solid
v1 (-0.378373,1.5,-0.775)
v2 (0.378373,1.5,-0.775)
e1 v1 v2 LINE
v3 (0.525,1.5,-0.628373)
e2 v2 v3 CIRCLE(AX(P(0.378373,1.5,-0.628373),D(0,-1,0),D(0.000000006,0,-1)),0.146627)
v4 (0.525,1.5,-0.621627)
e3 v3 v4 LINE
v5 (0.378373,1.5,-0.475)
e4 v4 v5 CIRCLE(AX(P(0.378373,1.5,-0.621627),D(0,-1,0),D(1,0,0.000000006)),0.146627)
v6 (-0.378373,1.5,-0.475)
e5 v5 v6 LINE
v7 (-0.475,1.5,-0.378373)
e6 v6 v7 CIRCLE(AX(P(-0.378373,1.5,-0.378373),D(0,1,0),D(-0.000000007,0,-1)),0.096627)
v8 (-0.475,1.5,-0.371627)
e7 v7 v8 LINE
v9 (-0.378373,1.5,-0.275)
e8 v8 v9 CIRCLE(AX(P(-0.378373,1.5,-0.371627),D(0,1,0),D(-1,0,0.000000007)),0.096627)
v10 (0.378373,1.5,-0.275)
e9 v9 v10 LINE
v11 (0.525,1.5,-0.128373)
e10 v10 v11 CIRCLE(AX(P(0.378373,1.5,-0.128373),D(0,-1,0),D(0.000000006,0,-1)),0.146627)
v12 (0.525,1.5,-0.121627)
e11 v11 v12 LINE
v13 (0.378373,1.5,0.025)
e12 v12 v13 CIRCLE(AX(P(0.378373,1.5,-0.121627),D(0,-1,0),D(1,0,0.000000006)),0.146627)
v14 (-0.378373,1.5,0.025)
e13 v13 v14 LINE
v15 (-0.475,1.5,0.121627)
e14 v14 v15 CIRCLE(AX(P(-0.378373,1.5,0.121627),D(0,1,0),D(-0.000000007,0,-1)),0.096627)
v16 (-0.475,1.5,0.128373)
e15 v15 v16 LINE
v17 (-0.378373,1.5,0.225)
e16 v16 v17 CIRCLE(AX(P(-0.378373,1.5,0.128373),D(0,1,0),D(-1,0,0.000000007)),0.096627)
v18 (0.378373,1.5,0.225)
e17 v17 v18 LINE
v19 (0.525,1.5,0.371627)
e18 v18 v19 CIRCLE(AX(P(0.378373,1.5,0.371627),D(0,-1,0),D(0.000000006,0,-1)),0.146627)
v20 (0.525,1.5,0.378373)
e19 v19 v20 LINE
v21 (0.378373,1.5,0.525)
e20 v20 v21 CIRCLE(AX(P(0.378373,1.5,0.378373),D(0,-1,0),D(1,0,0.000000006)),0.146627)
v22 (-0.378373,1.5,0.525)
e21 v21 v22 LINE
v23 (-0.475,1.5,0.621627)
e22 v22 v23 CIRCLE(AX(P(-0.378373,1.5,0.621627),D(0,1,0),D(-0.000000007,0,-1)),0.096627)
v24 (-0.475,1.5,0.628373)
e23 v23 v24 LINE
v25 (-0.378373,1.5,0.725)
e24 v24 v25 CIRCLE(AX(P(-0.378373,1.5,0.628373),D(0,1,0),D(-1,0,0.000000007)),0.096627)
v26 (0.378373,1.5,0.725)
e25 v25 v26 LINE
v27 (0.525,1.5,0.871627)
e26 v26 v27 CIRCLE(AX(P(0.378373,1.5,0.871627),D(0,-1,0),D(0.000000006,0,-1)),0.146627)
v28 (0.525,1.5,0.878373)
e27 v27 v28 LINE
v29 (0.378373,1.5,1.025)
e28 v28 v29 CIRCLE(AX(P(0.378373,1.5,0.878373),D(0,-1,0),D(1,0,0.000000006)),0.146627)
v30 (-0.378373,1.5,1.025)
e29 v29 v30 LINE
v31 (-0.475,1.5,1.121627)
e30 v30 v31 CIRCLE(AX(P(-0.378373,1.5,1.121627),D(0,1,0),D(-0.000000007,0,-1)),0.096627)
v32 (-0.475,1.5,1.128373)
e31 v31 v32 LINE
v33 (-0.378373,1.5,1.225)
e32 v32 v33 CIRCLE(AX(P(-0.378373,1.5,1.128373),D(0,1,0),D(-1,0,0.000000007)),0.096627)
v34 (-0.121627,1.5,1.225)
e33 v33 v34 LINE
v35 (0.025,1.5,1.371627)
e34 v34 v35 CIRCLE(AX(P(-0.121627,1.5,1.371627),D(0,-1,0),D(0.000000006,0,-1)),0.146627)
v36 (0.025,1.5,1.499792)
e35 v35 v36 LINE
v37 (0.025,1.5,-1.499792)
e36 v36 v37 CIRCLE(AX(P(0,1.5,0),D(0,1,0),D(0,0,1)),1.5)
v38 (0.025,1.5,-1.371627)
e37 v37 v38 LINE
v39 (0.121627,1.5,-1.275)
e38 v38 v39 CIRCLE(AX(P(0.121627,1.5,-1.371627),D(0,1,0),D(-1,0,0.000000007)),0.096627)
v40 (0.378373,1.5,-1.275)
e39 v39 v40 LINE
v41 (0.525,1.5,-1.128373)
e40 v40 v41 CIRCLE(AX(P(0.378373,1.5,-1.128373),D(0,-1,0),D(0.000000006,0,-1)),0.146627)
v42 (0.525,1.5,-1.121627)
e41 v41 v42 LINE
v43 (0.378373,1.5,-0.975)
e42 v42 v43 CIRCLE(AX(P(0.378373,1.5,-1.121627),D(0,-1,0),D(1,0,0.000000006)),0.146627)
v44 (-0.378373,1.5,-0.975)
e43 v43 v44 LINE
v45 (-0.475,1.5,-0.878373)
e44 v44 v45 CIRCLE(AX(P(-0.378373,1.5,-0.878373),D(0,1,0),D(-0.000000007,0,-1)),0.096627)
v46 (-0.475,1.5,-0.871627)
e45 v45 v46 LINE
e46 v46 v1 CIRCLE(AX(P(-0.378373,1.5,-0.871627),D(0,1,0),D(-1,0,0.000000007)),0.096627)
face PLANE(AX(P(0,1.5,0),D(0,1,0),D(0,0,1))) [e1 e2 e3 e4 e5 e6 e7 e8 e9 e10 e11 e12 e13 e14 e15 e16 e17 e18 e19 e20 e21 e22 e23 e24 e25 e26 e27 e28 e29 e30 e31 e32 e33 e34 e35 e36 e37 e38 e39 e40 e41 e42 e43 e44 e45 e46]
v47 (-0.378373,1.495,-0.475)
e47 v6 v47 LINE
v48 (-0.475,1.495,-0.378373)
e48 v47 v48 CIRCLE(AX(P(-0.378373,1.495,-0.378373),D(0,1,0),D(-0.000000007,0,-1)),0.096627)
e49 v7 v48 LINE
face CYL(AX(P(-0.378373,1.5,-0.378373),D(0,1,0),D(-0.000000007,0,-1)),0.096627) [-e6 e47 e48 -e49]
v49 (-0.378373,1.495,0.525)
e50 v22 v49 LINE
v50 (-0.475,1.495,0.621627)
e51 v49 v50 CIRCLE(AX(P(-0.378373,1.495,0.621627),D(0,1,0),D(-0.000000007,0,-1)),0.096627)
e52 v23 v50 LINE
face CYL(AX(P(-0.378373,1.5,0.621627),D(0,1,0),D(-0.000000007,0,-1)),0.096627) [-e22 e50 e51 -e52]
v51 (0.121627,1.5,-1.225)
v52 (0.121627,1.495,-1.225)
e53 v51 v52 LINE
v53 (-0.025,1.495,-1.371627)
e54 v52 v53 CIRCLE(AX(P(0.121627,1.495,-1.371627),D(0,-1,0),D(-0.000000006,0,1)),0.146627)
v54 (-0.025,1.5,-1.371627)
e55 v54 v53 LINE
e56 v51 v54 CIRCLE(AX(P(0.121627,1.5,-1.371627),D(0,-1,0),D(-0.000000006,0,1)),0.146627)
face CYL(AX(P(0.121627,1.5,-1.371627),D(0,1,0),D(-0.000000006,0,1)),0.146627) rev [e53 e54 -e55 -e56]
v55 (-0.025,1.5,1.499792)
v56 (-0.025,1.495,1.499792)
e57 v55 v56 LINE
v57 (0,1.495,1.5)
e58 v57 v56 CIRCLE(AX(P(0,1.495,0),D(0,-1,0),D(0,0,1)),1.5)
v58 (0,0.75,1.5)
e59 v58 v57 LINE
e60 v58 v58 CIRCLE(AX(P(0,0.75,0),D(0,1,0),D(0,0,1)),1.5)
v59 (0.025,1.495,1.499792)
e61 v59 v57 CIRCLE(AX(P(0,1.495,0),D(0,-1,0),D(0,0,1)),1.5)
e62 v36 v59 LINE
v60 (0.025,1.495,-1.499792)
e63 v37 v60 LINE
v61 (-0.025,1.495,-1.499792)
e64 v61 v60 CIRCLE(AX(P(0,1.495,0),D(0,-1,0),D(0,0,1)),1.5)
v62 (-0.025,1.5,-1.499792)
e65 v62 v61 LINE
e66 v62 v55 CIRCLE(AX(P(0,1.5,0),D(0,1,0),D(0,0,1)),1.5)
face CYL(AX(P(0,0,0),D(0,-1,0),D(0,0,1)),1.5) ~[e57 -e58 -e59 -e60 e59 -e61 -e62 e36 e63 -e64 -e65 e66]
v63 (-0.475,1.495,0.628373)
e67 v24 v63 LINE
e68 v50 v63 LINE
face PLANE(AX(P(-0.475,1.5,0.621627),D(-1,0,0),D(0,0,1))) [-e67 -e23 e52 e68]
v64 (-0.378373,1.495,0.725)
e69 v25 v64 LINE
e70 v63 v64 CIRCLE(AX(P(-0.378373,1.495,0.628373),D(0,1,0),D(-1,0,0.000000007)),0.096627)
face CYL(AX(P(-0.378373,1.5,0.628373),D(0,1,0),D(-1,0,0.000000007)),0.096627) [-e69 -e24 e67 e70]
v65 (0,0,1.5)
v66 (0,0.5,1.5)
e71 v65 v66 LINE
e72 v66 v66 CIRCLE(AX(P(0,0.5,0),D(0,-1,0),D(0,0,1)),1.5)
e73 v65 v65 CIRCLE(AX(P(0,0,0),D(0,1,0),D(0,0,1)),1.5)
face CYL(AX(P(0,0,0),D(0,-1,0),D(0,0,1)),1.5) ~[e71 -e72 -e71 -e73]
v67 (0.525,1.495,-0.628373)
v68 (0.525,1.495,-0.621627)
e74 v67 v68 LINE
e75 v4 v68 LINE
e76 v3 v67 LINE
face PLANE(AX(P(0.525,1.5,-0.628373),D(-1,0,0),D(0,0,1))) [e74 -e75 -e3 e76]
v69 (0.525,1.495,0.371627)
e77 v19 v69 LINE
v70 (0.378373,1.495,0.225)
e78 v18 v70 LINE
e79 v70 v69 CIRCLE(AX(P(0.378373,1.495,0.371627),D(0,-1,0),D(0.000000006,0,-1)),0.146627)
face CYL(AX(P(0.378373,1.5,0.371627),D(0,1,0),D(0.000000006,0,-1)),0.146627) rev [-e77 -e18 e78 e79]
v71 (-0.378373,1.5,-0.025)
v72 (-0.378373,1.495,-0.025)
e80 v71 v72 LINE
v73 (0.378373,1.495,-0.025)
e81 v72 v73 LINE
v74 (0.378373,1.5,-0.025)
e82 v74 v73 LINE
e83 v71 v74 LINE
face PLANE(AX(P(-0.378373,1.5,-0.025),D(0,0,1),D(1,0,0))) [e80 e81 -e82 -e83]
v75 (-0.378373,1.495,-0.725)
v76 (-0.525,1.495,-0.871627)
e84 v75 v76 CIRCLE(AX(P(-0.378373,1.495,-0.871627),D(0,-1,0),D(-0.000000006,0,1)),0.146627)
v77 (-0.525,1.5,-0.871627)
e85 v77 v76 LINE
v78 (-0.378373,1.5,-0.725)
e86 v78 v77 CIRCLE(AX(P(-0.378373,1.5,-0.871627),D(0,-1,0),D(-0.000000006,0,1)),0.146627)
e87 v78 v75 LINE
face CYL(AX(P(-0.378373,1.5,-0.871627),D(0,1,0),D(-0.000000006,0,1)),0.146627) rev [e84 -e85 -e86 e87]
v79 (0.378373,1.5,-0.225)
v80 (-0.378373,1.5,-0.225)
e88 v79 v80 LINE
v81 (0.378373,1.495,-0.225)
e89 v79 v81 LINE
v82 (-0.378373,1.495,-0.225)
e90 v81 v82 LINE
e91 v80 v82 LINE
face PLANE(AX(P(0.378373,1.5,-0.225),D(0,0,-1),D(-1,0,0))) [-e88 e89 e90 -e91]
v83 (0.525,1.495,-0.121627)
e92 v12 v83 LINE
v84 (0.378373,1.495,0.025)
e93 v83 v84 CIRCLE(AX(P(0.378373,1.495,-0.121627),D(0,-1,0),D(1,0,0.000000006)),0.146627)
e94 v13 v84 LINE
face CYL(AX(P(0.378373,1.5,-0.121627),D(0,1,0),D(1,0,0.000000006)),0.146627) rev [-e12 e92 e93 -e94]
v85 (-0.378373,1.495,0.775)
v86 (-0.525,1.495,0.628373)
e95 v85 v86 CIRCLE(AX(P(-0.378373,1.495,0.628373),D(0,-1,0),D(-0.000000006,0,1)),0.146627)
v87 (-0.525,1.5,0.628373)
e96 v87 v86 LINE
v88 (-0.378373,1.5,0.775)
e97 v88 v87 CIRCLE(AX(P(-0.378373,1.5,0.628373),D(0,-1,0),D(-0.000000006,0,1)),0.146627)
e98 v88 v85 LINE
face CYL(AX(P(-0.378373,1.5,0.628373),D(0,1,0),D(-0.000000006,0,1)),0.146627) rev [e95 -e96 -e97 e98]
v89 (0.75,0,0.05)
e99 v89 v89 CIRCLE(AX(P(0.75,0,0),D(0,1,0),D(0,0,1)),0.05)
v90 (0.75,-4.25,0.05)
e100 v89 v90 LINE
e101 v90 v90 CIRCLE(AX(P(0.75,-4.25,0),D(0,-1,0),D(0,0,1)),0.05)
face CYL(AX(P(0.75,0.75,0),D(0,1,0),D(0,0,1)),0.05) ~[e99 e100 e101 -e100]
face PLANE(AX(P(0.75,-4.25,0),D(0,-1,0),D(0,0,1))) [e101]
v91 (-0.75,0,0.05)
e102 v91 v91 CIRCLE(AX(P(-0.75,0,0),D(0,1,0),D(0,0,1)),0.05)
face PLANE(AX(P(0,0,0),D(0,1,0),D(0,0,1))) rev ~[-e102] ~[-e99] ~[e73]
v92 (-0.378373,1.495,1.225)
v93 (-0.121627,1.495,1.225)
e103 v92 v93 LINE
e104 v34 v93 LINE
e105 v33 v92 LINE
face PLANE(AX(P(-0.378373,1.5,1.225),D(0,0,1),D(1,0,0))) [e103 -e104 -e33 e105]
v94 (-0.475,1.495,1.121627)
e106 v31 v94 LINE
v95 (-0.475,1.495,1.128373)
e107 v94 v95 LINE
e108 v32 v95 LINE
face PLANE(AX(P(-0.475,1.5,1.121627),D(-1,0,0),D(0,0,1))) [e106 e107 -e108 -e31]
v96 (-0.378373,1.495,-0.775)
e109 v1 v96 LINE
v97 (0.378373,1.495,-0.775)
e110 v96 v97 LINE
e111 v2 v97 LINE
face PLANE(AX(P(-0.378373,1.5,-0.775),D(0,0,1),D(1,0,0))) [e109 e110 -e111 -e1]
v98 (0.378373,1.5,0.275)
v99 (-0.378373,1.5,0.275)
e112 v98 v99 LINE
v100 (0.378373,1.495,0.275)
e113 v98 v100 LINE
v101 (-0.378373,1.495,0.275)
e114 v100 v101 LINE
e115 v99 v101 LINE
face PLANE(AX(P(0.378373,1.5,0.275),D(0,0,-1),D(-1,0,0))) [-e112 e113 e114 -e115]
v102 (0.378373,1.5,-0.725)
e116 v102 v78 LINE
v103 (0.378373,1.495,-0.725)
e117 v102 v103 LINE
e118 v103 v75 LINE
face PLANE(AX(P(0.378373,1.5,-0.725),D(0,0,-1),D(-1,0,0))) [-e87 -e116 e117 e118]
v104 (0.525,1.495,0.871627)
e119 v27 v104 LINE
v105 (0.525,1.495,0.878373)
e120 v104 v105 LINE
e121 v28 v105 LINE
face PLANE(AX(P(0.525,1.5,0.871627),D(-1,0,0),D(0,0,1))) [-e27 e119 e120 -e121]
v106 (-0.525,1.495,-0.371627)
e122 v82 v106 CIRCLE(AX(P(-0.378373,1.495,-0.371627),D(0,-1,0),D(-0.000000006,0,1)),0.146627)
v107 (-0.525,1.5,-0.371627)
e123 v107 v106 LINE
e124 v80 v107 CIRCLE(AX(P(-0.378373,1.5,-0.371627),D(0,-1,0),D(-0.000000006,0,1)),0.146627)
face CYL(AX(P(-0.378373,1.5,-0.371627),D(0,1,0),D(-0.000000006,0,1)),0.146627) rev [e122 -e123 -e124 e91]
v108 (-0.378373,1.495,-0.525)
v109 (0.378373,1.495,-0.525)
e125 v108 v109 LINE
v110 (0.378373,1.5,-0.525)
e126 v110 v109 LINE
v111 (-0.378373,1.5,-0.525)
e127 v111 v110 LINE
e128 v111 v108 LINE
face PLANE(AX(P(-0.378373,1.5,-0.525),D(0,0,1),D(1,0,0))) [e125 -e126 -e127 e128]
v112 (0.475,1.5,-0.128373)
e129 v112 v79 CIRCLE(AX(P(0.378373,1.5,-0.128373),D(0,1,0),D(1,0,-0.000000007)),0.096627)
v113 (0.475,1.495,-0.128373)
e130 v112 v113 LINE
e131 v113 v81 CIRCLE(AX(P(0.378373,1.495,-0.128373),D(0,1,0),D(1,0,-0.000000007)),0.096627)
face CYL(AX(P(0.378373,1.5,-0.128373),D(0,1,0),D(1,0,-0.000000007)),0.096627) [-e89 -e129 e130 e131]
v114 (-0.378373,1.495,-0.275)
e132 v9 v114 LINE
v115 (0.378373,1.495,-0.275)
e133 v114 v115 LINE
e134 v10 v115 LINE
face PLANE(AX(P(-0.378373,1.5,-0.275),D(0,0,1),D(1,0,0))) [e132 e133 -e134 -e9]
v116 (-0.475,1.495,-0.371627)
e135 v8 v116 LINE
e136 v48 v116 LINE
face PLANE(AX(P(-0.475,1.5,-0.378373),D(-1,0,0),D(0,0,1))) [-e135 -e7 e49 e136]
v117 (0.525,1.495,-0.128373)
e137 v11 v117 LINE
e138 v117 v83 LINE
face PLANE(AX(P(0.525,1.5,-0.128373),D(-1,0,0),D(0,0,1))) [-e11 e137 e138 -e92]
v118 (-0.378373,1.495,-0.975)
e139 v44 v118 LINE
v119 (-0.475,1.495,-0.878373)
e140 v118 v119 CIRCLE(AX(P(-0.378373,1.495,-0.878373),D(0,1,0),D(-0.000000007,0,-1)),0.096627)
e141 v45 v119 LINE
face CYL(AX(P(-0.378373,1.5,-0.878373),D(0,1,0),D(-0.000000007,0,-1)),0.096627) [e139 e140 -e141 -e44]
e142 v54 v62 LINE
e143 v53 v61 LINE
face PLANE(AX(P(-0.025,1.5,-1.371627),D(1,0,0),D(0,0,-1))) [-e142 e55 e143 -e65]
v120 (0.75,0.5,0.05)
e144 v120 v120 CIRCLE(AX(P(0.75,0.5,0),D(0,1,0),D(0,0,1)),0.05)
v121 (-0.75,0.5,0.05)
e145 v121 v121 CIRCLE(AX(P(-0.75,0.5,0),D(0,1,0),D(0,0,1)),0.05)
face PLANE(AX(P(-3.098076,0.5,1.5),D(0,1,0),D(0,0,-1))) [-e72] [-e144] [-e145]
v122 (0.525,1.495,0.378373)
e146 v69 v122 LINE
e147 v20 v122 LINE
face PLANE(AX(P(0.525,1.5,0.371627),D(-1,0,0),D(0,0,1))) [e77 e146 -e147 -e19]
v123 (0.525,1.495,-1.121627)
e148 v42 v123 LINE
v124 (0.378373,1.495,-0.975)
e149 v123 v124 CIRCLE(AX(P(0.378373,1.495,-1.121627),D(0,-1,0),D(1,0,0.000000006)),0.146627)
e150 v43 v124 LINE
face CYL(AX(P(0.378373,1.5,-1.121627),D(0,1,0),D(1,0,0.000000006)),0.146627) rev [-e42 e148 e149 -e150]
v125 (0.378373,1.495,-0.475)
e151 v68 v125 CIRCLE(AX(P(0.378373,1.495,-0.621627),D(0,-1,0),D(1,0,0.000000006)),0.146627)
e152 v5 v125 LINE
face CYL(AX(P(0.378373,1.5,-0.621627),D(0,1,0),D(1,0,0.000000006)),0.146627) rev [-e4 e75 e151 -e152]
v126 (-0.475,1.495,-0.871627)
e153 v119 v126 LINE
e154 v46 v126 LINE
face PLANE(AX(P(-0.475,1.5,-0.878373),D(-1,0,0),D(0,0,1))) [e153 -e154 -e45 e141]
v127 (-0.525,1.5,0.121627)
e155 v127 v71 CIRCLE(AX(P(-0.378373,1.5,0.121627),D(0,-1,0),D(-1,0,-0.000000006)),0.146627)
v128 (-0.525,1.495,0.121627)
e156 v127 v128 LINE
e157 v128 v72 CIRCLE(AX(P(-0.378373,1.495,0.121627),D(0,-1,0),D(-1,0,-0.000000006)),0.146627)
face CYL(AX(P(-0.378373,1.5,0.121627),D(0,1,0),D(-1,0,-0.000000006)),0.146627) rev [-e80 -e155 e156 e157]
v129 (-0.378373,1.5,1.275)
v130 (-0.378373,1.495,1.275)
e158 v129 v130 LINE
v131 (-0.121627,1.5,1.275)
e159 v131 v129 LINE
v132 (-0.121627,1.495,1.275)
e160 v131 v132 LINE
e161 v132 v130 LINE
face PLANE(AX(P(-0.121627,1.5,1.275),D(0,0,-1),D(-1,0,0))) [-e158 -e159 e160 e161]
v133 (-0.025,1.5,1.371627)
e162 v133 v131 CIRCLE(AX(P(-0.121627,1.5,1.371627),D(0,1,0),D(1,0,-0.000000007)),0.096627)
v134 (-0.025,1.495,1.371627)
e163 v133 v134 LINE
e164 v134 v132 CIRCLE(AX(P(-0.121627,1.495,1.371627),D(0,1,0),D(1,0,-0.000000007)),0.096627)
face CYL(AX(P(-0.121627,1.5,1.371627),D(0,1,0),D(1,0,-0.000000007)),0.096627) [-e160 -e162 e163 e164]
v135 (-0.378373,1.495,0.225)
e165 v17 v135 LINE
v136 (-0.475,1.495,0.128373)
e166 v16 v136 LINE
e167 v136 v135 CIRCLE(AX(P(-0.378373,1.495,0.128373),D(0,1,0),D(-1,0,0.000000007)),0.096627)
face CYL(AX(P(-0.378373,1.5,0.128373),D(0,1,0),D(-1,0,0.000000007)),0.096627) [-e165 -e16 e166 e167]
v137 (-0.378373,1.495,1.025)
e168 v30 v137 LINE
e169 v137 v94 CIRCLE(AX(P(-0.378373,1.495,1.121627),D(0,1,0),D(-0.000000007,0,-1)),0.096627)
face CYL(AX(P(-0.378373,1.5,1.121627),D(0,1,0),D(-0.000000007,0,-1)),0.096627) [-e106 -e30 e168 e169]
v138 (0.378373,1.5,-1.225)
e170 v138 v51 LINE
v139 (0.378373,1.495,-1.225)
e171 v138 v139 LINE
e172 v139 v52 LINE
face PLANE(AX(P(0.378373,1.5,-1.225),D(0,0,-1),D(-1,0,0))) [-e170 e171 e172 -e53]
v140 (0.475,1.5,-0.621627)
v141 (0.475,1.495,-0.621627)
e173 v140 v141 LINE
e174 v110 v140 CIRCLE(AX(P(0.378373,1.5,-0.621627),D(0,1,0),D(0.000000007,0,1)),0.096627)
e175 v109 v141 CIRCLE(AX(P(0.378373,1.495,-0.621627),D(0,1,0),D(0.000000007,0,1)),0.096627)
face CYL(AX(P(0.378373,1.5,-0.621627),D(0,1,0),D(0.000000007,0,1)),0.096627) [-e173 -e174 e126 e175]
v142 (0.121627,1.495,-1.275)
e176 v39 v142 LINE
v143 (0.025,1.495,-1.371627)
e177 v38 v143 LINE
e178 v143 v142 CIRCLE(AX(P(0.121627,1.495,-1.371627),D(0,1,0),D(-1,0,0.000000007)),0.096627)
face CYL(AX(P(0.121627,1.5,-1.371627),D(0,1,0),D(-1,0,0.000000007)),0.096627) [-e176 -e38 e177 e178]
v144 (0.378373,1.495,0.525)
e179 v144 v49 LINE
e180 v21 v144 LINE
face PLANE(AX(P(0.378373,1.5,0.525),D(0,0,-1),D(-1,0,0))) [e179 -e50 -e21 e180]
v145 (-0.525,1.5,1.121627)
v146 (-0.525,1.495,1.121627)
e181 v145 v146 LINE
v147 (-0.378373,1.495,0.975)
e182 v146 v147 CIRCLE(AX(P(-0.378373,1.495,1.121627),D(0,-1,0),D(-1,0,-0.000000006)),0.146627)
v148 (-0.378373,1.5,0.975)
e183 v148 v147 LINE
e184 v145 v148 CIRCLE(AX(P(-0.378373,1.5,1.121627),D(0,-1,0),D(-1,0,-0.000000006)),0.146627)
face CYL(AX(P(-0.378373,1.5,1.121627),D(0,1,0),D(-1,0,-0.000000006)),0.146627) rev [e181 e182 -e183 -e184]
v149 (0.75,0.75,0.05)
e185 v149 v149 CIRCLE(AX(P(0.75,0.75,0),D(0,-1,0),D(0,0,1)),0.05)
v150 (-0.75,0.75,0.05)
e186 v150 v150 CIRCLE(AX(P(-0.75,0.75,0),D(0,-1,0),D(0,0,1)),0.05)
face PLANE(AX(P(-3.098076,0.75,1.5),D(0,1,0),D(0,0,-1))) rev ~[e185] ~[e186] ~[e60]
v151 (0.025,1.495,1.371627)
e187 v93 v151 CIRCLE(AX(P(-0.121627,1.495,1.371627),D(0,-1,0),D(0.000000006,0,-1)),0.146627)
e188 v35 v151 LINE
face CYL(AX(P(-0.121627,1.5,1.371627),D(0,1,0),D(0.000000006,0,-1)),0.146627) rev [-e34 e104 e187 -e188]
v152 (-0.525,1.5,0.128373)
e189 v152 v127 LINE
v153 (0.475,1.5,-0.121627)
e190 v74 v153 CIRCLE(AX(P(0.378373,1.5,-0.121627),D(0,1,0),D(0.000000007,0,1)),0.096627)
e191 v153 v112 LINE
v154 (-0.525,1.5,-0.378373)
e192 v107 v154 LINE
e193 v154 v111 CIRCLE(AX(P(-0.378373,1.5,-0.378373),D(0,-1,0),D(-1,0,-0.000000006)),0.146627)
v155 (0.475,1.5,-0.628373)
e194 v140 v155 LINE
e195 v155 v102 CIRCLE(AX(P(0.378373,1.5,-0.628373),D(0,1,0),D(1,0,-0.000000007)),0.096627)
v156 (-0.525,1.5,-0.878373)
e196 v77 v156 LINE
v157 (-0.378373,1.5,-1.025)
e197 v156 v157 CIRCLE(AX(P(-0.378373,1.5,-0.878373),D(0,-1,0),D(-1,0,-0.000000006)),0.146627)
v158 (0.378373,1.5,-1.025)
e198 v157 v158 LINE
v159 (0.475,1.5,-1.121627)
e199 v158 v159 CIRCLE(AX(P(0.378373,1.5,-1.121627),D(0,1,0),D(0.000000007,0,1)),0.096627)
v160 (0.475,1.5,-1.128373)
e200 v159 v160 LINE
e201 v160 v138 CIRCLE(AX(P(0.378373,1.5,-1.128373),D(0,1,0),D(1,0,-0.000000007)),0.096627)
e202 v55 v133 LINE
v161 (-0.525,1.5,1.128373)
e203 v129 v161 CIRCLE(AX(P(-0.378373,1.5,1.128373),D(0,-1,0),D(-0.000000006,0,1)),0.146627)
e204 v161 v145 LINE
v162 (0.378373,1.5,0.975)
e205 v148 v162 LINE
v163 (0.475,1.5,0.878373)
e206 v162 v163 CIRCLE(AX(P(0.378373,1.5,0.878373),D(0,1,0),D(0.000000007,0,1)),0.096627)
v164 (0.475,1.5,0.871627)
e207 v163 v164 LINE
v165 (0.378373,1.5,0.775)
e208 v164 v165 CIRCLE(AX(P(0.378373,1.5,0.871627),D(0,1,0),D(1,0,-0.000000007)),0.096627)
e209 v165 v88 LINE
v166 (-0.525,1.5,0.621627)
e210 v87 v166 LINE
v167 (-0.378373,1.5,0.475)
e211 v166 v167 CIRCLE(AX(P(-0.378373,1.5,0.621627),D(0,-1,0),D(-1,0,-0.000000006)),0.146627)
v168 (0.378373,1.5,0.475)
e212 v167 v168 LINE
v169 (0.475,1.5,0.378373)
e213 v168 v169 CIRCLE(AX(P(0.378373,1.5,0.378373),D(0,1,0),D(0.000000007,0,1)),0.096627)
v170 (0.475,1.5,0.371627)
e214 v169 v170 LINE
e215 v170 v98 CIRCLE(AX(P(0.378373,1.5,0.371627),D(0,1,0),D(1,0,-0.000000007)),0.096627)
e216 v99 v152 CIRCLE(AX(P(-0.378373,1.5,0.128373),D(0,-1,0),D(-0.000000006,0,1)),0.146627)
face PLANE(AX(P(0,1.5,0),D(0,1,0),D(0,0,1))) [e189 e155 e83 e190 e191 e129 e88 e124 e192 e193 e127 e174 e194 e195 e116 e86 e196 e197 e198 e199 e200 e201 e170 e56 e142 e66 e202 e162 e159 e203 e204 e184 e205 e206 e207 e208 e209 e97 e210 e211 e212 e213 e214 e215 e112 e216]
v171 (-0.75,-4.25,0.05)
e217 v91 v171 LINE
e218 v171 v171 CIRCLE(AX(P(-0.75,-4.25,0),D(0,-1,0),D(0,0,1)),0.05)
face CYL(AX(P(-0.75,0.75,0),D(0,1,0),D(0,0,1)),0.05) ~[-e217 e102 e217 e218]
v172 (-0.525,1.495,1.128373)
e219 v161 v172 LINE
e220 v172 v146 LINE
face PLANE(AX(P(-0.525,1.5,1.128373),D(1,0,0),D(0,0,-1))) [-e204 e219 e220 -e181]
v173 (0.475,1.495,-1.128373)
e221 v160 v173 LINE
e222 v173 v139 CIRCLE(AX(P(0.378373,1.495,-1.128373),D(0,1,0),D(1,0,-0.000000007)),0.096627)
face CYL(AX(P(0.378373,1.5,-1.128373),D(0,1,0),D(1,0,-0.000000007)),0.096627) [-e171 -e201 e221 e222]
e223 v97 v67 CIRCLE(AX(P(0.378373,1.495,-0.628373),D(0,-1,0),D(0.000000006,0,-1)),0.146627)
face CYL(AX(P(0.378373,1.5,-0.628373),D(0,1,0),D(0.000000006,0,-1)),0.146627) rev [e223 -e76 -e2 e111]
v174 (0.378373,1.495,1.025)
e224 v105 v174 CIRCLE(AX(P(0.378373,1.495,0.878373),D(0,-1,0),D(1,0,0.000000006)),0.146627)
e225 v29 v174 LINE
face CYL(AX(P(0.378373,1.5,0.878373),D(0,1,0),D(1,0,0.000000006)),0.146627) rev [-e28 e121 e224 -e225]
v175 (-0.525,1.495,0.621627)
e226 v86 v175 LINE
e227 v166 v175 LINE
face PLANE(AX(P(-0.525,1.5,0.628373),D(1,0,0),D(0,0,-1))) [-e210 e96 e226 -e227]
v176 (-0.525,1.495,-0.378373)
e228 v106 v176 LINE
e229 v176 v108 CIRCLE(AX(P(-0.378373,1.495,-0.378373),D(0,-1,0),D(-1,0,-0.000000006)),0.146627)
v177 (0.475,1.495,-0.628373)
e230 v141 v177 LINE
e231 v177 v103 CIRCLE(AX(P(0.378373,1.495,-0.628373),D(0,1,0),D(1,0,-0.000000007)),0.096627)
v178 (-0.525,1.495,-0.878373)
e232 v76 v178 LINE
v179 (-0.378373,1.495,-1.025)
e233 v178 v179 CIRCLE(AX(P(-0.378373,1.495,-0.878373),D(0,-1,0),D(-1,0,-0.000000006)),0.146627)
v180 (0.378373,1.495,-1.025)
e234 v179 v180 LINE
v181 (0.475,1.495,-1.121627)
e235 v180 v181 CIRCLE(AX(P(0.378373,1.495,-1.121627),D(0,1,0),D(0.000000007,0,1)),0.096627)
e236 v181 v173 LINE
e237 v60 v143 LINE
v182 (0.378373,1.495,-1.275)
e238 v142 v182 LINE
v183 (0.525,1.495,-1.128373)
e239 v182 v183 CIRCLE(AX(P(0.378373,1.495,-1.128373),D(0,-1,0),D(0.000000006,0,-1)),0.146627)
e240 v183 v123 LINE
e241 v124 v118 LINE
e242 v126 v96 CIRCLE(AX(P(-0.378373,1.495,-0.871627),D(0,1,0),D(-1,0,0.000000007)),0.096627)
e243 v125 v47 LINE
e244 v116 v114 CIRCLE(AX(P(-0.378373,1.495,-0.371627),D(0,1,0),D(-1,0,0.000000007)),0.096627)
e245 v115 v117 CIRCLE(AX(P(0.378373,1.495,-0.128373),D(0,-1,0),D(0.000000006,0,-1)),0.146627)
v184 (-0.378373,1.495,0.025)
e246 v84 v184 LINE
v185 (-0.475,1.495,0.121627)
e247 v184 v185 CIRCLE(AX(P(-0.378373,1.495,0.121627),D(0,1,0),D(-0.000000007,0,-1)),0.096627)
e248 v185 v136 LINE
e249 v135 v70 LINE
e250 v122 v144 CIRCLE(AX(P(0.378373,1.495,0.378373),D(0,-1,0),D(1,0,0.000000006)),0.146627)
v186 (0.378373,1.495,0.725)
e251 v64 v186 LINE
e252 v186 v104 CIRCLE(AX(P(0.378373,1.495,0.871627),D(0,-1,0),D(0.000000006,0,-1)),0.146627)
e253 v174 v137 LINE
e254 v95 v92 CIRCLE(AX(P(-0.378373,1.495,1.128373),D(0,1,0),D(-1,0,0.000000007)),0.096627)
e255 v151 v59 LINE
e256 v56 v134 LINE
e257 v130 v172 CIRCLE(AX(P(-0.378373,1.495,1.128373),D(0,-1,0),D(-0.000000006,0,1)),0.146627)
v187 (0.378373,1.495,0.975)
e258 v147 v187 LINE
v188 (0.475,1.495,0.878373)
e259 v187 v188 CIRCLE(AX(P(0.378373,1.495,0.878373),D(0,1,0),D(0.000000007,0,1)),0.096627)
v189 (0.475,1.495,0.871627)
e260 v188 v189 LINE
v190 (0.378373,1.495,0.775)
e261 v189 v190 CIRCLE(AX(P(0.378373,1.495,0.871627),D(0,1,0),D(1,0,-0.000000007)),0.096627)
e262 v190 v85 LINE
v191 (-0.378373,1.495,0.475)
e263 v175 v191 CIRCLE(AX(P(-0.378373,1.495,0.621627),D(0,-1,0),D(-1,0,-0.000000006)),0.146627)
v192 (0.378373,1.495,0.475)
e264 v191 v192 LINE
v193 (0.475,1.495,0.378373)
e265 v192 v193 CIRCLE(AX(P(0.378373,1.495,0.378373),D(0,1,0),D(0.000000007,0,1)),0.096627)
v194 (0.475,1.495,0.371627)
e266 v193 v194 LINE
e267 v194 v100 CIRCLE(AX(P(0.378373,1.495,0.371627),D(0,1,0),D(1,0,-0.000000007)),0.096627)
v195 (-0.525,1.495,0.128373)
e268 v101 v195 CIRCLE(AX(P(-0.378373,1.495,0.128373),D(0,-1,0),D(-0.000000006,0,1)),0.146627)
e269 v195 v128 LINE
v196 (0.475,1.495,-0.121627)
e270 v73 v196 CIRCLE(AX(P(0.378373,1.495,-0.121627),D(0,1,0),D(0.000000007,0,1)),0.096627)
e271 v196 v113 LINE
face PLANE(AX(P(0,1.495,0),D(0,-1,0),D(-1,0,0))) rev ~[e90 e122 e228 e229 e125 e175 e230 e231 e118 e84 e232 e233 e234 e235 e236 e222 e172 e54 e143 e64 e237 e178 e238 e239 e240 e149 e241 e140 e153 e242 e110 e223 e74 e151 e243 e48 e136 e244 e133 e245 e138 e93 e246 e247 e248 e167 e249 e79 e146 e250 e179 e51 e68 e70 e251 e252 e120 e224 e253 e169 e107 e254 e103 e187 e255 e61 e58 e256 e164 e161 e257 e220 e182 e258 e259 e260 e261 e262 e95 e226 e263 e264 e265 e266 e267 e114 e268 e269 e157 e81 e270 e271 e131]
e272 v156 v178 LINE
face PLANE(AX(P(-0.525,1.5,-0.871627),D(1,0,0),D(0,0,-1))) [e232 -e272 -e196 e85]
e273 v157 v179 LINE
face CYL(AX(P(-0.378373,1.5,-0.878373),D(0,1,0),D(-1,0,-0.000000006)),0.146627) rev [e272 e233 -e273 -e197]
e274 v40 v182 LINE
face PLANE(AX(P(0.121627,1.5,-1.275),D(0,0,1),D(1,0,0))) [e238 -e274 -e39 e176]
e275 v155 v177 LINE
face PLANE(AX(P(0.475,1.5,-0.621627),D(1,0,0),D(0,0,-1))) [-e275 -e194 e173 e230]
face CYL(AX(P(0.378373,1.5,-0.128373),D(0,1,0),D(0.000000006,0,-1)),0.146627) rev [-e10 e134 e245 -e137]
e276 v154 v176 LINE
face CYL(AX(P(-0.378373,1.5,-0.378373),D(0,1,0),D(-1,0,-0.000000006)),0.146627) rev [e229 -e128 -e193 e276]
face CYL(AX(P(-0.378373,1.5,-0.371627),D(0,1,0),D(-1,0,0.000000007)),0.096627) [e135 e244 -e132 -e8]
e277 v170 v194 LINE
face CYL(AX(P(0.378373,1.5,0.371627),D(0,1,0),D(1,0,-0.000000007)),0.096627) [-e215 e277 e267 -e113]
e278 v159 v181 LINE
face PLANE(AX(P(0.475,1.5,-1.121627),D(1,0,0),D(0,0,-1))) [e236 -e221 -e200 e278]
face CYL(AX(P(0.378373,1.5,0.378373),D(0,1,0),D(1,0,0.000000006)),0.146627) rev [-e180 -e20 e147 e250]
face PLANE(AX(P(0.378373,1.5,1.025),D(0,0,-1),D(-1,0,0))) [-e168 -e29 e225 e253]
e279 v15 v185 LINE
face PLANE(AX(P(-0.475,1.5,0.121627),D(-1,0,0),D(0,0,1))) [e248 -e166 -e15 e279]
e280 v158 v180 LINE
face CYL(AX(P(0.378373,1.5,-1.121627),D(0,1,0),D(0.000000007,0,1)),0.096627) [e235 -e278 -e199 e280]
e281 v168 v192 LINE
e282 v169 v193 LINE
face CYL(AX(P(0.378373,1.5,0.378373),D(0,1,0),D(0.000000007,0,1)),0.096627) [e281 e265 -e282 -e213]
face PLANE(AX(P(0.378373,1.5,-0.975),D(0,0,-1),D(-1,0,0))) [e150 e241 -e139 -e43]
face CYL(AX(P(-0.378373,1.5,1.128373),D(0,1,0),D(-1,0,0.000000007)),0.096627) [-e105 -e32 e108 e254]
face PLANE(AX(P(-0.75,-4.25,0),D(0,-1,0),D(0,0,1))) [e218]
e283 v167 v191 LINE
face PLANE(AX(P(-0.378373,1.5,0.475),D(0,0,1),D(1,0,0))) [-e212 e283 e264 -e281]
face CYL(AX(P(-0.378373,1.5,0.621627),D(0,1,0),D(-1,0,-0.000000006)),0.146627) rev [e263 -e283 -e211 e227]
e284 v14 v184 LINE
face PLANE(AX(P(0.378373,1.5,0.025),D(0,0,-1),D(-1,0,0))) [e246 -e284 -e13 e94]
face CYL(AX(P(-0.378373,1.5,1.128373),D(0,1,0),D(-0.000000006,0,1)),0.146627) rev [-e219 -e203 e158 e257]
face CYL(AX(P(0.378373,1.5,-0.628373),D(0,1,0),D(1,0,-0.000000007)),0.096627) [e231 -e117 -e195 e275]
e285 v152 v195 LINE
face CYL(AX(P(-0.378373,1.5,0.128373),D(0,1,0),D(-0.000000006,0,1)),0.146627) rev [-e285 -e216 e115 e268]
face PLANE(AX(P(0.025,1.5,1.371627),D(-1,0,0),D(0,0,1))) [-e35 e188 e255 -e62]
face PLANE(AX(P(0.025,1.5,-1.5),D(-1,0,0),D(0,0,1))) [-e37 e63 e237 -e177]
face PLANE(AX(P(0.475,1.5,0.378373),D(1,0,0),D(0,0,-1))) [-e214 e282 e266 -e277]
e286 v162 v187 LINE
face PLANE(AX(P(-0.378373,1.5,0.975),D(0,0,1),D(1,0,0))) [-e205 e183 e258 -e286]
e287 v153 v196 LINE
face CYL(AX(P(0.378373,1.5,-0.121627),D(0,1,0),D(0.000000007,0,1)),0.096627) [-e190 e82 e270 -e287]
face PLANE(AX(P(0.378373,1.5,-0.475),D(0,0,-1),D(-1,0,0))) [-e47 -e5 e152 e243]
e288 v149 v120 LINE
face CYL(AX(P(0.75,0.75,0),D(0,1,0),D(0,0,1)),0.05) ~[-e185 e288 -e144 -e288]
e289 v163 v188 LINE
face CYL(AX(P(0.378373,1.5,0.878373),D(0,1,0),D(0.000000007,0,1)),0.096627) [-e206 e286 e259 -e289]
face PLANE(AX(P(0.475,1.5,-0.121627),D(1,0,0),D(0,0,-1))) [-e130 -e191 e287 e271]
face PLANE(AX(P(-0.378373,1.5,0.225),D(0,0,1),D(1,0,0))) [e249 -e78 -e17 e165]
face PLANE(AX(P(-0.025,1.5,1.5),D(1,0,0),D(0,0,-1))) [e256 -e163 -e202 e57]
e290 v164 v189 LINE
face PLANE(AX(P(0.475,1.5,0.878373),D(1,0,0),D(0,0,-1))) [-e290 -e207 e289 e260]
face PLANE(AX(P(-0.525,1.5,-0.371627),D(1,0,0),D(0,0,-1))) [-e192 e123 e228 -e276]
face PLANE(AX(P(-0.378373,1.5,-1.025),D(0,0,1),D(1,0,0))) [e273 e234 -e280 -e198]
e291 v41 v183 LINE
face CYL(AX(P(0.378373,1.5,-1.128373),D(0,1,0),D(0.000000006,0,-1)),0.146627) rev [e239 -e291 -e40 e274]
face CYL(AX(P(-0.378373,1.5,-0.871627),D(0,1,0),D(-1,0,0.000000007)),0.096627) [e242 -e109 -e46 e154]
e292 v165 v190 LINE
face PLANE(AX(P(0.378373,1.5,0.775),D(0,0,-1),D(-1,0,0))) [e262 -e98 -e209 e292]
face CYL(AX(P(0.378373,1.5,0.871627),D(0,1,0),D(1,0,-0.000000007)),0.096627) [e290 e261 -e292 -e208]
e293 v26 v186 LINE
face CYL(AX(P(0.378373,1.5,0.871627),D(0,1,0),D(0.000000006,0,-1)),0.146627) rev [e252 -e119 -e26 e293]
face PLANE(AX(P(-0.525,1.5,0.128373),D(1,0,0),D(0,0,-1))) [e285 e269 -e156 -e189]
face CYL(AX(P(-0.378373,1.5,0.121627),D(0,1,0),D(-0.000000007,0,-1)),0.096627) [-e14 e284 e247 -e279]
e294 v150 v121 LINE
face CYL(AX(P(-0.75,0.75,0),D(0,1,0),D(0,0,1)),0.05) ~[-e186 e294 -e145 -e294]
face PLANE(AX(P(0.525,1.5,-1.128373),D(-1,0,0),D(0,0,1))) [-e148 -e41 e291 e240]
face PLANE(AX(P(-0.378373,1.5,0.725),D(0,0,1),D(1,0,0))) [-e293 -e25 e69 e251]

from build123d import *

# Parameters (mm, degrees)
SKETCH1_R               = 3
BOSS_EXTRUDE1_DEPTH     = 3
CUT_EXTRUDE1_DEPTH      = 6.196152423
CUT_EXTRUDE1_DEPTH_BACK = 6.196152423
SKETCH2_W               = 6
SKETCH2_H               = 0.5
SKETCH3_R               = 0.1
BOSS_EXTRUDE2_DEPTH     = 10
CUT_EXTRUDE4_DEPTH      = 0.01
SCALE1_SCALE            = 0.5


with BuildPart() as part:
    # Sketch1 → Boss-Extrude1 (new body)
    with BuildSketch(Plane(origin=(0, 0, 0), x_dir=(1, 0, 0), z_dir=(0, 1, 0))):
        with Locations(Location((0, 0, 0), (0, 0, 270))):
            Circle(SKETCH1_R)
    extrude(amount=BOSS_EXTRUDE1_DEPTH)

    # Sketch2 → Cut-Extrude1 (cut, two sides: drawn at the far end of the back side and taken through both)
    with BuildSketch(Plane(origin=(0, 0, 0), x_dir=(0, 0, -1), z_dir=(1, 0, 0)).offset(-CUT_EXTRUDE1_DEPTH_BACK)):
        with Locations((0, 1.25)):
            Rectangle(SKETCH2_W, SKETCH2_H)
    extrude(amount=CUT_EXTRUDE1_DEPTH + CUT_EXTRUDE1_DEPTH_BACK, mode=Mode.SUBTRACT)


with BuildPart() as cut_extrude1_piece_1:
    # of the separate pieces the step leaves, piece 1, a body of its own (cut_extrude1_pieces)
    add(part.part.solids().sort_by_distance((0, 1.5, 3))[0])



with BuildPart() as cut_extrude1_piece_2:
    # of the separate pieces the step leaves, piece 2, a body of its own (cut_extrude1_pieces)
    add(part.part.solids().sort_by_distance((0, 0, 3))[0])


with BuildPart() as cut_extrude1_piece_1_1:
    add(cut_extrude1_piece_1.part)

    add(cut_extrude1_piece_2.part)  # Boss-Extrude2 merges Cut-Extrude1 piece 2
    # Sketch3 → Boss-Extrude2 (add)
    with BuildSketch(Plane.XZ.offset(-1.5)):
        with Locations(Location((-1.5, 0, 0), (0, 0, 90))):
            Circle(SKETCH3_R)
        with Locations(Location((1.5, 0, 0), (0, 0, 90))):
            Circle(SKETCH3_R)
    extrude(amount=BOSS_EXTRUDE2_DEPTH)

    # Sketch4 → Cut-Extrude4 (cut)
    with BuildSketch(Plane(origin=(0, 3, 0), x_dir=(1, 0, 0), z_dir=(0, 1, 0))):
        with BuildLine():
            Line((0.05, -2.743253312), (0.05, -3))
            ThreePointArc((0.05, -3), (0, -3.000416638), (-0.05, -3))
            Line((-0.05, -3), (-0.05, -2.743253312))
            ThreePointArc((-0.05, -2.743253312), (-0.106602585, -2.606602585), (-0.243253312, -2.55))
            Line((-0.243253312, -2.55), (-0.756746688, -2.55))
            ThreePointArc((-0.756746688, -2.55), (-0.964108093, -2.464108093), (-1.05, -2.256746688))
            Line((-1.05, -2.256746688), (-1.05, -2.243253312))
            ThreePointArc((-1.05, -2.243253312), (-0.964108093, -2.035891907), (-0.756746688, -1.95))
            Line((-0.756746688, -1.95), (0.756746688, -1.95))
            ThreePointArc((0.756746688, -1.95), (0.893397415, -1.893397415), (0.95, -1.756746688))
            Line((0.95, -1.756746688), (0.95, -1.743253312))
            ThreePointArc((0.95, -1.743253312), (0.893397415, -1.606602585), (0.756746688, -1.55))
            Line((0.756746688, -1.55), (-0.756746688, -1.55))
            ThreePointArc((-0.756746688, -1.55), (-0.964108093, -1.464108093), (-1.05, -1.256746688))
            Line((-1.05, -1.256746688), (-1.05, -1.243253312))
            ThreePointArc((-1.05, -1.243253312), (-0.964108093, -1.035891907), (-0.756746688, -0.95))
            Line((-0.756746688, -0.95), (0.756746688, -0.95))
            ThreePointArc((0.756746688, -0.95), (0.893397415, -0.893397415), (0.95, -0.756746688))
            Line((0.95, -0.756746688), (0.95, -0.743253312))
            ThreePointArc((0.95, -0.743253312), (0.893397415, -0.606602585), (0.756746688, -0.55))
            Line((0.756746688, -0.55), (-0.756746688, -0.55))
            ThreePointArc((-0.756746688, -0.55), (-0.964108093, -0.464108093), (-1.05, -0.256746688))
            Line((-1.05, -0.256746688), (-1.05, -0.243253312))
            ThreePointArc((-1.05, -0.243253312), (-0.964108093, -0.035891907), (-0.756746688, 0.05))
            Line((-0.756746688, 0.05), (0.756746688, 0.05))
            ThreePointArc((0.756746688, 0.05), (0.893397415, 0.106602585), (0.95, 0.243253312))
            Line((0.95, 0.243253312), (0.95, 0.256746688))
            ThreePointArc((0.95, 0.256746688), (0.893397415, 0.393397415), (0.756746688, 0.45))
            Line((0.756746688, 0.45), (-0.756746688, 0.45))
            ThreePointArc((-0.756746688, 0.45), (-0.964108093, 0.535891907), (-1.05, 0.743253312))
            Line((-1.05, 0.743253312), (-1.05, 0.756746688))
            ThreePointArc((-1.05, 0.756746688), (-0.964108093, 0.964108093), (-0.756746688, 1.05))
            Line((-0.756746688, 1.05), (0.756746688, 1.05))
            ThreePointArc((0.756746688, 1.05), (0.893397415, 1.106602585), (0.95, 1.243253312))
            Line((0.95, 1.243253312), (0.95, 1.256746688))
            ThreePointArc((0.95, 1.256746688), (0.893397415, 1.393397415), (0.756746688, 1.45))
            Line((0.756746688, 1.45), (-0.756746688, 1.45))
            ThreePointArc((-0.756746688, 1.45), (-0.964108093, 1.535891907), (-1.05, 1.743253312))
            Line((-1.05, 1.743253312), (-1.05, 1.756746688))
            ThreePointArc((-1.05, 1.756746688), (-0.964108093, 1.964108093), (-0.756746688, 2.05))
            Line((-0.756746688, 2.05), (0.756746688, 2.05))
            ThreePointArc((0.756746688, 2.05), (0.893397415, 2.106602585), (0.95, 2.243253312))
            Line((0.95, 2.243253312), (0.95, 2.256746688))
            ThreePointArc((0.95, 2.256746688), (0.893397415, 2.393397415), (0.756746688, 2.45))
            Line((0.756746688, 2.45), (0.243253312, 2.45))
            ThreePointArc((0.243253312, 2.45), (0.035891907, 2.535891907), (-0.05, 2.743253312))
            Line((-0.05, 2.743253312), (-0.05, 3))
            ThreePointArc((-0.05, 3), (0, 3.000416638), (0.05, 3))
            Line((0.05, 3), (0.05, 2.743253312))
            ThreePointArc((0.05, 2.743253312), (0.106602585, 2.606602585), (0.243253312, 2.55))
            Line((0.243253312, 2.55), (0.756746688, 2.55))
            ThreePointArc((0.756746688, 2.55), (0.964108093, 2.464108093), (1.05, 2.256746688))
            Line((1.05, 2.256746688), (1.05, 2.243253312))
            ThreePointArc((1.05, 2.243253312), (0.964108093, 2.035891907), (0.756746688, 1.95))
            Line((0.756746688, 1.95), (-0.756746688, 1.95))
            ThreePointArc((-0.756746688, 1.95), (-0.893397415, 1.893397415), (-0.95, 1.756746688))
            Line((-0.95, 1.756746688), (-0.95, 1.743253312))
            ThreePointArc((-0.95, 1.743253312), (-0.893397415, 1.606602585), (-0.756746688, 1.55))
            Line((-0.756746688, 1.55), (0.756746688, 1.55))
            ThreePointArc((0.756746688, 1.55), (0.964108093, 1.464108093), (1.05, 1.256746688))
            Line((1.05, 1.256746688), (1.05, 1.243253312))
            ThreePointArc((1.05, 1.243253312), (0.964108093, 1.035891907), (0.756746688, 0.95))
            Line((0.756746688, 0.95), (-0.756746688, 0.95))
            ThreePointArc((-0.756746688, 0.95), (-0.893397415, 0.893397415), (-0.95, 0.756746688))
            Line((-0.95, 0.756746688), (-0.95, 0.743253312))
            ThreePointArc((-0.95, 0.743253312), (-0.893397415, 0.606602585), (-0.756746688, 0.55))
            Line((-0.756746688, 0.55), (0.756746688, 0.55))
            ThreePointArc((0.756746688, 0.55), (0.964108093, 0.464108093), (1.05, 0.256746688))
            Line((1.05, 0.256746688), (1.05, 0.243253312))
            ThreePointArc((1.05, 0.243253312), (0.964108093, 0.035891907), (0.756746688, -0.05))
            Line((0.756746688, -0.05), (-0.756746688, -0.05))
            ThreePointArc((-0.756746688, -0.05), (-0.893397415, -0.106602585), (-0.95, -0.243253312))
            Line((-0.95, -0.243253312), (-0.95, -0.256746688))
            ThreePointArc((-0.95, -0.256746688), (-0.893397415, -0.393397415), (-0.756746688, -0.45))
            Line((-0.756746688, -0.45), (0.756746688, -0.45))
            ThreePointArc((0.756746688, -0.45), (0.964108093, -0.535891907), (1.05, -0.743253312))
            Line((1.05, -0.743253312), (1.05, -0.756746688))
            ThreePointArc((1.05, -0.756746688), (0.964108093, -0.964108093), (0.756746688, -1.05))
            Line((0.756746688, -1.05), (-0.756746688, -1.05))
            ThreePointArc((-0.756746688, -1.05), (-0.893397415, -1.106602585), (-0.95, -1.243253312))
            Line((-0.95, -1.243253312), (-0.95, -1.256746688))
            ThreePointArc((-0.95, -1.256746688), (-0.893397415, -1.393397415), (-0.756746688, -1.45))
            Line((-0.756746688, -1.45), (0.756746688, -1.45))
            ThreePointArc((0.756746688, -1.45), (0.964108093, -1.535891907), (1.05, -1.743253312))
            Line((1.05, -1.743253312), (1.05, -1.756746688))
            ThreePointArc((1.05, -1.756746688), (0.964108093, -1.964108093), (0.756746688, -2.05))
            Line((0.756746688, -2.05), (-0.756746688, -2.05))
            ThreePointArc((-0.756746688, -2.05), (-0.893397415, -2.106602585), (-0.95, -2.243253312))
            Line((-0.95, -2.243253312), (-0.95, -2.256746688))
            ThreePointArc((-0.95, -2.256746688), (-0.893397415, -2.393397415), (-0.756746688, -2.45))
            Line((-0.756746688, -2.45), (-0.243253312, -2.45))
            ThreePointArc((-0.243253312, -2.45), (-0.035891907, -2.535891907), (0.05, -2.743253312))
        make_face()
    extrude(amount=-CUT_EXTRUDE4_DEPTH, mode=Mode.SUBTRACT)


with BuildPart() as cut_extrude1_piece_1_2:
    # Scale1: scaled about (0, 0, 0)
    add(cut_extrude1_piece_1_1.part.scale(SCALE1_SCALE))


solid = cut_extrude1_piece_1_2.part
